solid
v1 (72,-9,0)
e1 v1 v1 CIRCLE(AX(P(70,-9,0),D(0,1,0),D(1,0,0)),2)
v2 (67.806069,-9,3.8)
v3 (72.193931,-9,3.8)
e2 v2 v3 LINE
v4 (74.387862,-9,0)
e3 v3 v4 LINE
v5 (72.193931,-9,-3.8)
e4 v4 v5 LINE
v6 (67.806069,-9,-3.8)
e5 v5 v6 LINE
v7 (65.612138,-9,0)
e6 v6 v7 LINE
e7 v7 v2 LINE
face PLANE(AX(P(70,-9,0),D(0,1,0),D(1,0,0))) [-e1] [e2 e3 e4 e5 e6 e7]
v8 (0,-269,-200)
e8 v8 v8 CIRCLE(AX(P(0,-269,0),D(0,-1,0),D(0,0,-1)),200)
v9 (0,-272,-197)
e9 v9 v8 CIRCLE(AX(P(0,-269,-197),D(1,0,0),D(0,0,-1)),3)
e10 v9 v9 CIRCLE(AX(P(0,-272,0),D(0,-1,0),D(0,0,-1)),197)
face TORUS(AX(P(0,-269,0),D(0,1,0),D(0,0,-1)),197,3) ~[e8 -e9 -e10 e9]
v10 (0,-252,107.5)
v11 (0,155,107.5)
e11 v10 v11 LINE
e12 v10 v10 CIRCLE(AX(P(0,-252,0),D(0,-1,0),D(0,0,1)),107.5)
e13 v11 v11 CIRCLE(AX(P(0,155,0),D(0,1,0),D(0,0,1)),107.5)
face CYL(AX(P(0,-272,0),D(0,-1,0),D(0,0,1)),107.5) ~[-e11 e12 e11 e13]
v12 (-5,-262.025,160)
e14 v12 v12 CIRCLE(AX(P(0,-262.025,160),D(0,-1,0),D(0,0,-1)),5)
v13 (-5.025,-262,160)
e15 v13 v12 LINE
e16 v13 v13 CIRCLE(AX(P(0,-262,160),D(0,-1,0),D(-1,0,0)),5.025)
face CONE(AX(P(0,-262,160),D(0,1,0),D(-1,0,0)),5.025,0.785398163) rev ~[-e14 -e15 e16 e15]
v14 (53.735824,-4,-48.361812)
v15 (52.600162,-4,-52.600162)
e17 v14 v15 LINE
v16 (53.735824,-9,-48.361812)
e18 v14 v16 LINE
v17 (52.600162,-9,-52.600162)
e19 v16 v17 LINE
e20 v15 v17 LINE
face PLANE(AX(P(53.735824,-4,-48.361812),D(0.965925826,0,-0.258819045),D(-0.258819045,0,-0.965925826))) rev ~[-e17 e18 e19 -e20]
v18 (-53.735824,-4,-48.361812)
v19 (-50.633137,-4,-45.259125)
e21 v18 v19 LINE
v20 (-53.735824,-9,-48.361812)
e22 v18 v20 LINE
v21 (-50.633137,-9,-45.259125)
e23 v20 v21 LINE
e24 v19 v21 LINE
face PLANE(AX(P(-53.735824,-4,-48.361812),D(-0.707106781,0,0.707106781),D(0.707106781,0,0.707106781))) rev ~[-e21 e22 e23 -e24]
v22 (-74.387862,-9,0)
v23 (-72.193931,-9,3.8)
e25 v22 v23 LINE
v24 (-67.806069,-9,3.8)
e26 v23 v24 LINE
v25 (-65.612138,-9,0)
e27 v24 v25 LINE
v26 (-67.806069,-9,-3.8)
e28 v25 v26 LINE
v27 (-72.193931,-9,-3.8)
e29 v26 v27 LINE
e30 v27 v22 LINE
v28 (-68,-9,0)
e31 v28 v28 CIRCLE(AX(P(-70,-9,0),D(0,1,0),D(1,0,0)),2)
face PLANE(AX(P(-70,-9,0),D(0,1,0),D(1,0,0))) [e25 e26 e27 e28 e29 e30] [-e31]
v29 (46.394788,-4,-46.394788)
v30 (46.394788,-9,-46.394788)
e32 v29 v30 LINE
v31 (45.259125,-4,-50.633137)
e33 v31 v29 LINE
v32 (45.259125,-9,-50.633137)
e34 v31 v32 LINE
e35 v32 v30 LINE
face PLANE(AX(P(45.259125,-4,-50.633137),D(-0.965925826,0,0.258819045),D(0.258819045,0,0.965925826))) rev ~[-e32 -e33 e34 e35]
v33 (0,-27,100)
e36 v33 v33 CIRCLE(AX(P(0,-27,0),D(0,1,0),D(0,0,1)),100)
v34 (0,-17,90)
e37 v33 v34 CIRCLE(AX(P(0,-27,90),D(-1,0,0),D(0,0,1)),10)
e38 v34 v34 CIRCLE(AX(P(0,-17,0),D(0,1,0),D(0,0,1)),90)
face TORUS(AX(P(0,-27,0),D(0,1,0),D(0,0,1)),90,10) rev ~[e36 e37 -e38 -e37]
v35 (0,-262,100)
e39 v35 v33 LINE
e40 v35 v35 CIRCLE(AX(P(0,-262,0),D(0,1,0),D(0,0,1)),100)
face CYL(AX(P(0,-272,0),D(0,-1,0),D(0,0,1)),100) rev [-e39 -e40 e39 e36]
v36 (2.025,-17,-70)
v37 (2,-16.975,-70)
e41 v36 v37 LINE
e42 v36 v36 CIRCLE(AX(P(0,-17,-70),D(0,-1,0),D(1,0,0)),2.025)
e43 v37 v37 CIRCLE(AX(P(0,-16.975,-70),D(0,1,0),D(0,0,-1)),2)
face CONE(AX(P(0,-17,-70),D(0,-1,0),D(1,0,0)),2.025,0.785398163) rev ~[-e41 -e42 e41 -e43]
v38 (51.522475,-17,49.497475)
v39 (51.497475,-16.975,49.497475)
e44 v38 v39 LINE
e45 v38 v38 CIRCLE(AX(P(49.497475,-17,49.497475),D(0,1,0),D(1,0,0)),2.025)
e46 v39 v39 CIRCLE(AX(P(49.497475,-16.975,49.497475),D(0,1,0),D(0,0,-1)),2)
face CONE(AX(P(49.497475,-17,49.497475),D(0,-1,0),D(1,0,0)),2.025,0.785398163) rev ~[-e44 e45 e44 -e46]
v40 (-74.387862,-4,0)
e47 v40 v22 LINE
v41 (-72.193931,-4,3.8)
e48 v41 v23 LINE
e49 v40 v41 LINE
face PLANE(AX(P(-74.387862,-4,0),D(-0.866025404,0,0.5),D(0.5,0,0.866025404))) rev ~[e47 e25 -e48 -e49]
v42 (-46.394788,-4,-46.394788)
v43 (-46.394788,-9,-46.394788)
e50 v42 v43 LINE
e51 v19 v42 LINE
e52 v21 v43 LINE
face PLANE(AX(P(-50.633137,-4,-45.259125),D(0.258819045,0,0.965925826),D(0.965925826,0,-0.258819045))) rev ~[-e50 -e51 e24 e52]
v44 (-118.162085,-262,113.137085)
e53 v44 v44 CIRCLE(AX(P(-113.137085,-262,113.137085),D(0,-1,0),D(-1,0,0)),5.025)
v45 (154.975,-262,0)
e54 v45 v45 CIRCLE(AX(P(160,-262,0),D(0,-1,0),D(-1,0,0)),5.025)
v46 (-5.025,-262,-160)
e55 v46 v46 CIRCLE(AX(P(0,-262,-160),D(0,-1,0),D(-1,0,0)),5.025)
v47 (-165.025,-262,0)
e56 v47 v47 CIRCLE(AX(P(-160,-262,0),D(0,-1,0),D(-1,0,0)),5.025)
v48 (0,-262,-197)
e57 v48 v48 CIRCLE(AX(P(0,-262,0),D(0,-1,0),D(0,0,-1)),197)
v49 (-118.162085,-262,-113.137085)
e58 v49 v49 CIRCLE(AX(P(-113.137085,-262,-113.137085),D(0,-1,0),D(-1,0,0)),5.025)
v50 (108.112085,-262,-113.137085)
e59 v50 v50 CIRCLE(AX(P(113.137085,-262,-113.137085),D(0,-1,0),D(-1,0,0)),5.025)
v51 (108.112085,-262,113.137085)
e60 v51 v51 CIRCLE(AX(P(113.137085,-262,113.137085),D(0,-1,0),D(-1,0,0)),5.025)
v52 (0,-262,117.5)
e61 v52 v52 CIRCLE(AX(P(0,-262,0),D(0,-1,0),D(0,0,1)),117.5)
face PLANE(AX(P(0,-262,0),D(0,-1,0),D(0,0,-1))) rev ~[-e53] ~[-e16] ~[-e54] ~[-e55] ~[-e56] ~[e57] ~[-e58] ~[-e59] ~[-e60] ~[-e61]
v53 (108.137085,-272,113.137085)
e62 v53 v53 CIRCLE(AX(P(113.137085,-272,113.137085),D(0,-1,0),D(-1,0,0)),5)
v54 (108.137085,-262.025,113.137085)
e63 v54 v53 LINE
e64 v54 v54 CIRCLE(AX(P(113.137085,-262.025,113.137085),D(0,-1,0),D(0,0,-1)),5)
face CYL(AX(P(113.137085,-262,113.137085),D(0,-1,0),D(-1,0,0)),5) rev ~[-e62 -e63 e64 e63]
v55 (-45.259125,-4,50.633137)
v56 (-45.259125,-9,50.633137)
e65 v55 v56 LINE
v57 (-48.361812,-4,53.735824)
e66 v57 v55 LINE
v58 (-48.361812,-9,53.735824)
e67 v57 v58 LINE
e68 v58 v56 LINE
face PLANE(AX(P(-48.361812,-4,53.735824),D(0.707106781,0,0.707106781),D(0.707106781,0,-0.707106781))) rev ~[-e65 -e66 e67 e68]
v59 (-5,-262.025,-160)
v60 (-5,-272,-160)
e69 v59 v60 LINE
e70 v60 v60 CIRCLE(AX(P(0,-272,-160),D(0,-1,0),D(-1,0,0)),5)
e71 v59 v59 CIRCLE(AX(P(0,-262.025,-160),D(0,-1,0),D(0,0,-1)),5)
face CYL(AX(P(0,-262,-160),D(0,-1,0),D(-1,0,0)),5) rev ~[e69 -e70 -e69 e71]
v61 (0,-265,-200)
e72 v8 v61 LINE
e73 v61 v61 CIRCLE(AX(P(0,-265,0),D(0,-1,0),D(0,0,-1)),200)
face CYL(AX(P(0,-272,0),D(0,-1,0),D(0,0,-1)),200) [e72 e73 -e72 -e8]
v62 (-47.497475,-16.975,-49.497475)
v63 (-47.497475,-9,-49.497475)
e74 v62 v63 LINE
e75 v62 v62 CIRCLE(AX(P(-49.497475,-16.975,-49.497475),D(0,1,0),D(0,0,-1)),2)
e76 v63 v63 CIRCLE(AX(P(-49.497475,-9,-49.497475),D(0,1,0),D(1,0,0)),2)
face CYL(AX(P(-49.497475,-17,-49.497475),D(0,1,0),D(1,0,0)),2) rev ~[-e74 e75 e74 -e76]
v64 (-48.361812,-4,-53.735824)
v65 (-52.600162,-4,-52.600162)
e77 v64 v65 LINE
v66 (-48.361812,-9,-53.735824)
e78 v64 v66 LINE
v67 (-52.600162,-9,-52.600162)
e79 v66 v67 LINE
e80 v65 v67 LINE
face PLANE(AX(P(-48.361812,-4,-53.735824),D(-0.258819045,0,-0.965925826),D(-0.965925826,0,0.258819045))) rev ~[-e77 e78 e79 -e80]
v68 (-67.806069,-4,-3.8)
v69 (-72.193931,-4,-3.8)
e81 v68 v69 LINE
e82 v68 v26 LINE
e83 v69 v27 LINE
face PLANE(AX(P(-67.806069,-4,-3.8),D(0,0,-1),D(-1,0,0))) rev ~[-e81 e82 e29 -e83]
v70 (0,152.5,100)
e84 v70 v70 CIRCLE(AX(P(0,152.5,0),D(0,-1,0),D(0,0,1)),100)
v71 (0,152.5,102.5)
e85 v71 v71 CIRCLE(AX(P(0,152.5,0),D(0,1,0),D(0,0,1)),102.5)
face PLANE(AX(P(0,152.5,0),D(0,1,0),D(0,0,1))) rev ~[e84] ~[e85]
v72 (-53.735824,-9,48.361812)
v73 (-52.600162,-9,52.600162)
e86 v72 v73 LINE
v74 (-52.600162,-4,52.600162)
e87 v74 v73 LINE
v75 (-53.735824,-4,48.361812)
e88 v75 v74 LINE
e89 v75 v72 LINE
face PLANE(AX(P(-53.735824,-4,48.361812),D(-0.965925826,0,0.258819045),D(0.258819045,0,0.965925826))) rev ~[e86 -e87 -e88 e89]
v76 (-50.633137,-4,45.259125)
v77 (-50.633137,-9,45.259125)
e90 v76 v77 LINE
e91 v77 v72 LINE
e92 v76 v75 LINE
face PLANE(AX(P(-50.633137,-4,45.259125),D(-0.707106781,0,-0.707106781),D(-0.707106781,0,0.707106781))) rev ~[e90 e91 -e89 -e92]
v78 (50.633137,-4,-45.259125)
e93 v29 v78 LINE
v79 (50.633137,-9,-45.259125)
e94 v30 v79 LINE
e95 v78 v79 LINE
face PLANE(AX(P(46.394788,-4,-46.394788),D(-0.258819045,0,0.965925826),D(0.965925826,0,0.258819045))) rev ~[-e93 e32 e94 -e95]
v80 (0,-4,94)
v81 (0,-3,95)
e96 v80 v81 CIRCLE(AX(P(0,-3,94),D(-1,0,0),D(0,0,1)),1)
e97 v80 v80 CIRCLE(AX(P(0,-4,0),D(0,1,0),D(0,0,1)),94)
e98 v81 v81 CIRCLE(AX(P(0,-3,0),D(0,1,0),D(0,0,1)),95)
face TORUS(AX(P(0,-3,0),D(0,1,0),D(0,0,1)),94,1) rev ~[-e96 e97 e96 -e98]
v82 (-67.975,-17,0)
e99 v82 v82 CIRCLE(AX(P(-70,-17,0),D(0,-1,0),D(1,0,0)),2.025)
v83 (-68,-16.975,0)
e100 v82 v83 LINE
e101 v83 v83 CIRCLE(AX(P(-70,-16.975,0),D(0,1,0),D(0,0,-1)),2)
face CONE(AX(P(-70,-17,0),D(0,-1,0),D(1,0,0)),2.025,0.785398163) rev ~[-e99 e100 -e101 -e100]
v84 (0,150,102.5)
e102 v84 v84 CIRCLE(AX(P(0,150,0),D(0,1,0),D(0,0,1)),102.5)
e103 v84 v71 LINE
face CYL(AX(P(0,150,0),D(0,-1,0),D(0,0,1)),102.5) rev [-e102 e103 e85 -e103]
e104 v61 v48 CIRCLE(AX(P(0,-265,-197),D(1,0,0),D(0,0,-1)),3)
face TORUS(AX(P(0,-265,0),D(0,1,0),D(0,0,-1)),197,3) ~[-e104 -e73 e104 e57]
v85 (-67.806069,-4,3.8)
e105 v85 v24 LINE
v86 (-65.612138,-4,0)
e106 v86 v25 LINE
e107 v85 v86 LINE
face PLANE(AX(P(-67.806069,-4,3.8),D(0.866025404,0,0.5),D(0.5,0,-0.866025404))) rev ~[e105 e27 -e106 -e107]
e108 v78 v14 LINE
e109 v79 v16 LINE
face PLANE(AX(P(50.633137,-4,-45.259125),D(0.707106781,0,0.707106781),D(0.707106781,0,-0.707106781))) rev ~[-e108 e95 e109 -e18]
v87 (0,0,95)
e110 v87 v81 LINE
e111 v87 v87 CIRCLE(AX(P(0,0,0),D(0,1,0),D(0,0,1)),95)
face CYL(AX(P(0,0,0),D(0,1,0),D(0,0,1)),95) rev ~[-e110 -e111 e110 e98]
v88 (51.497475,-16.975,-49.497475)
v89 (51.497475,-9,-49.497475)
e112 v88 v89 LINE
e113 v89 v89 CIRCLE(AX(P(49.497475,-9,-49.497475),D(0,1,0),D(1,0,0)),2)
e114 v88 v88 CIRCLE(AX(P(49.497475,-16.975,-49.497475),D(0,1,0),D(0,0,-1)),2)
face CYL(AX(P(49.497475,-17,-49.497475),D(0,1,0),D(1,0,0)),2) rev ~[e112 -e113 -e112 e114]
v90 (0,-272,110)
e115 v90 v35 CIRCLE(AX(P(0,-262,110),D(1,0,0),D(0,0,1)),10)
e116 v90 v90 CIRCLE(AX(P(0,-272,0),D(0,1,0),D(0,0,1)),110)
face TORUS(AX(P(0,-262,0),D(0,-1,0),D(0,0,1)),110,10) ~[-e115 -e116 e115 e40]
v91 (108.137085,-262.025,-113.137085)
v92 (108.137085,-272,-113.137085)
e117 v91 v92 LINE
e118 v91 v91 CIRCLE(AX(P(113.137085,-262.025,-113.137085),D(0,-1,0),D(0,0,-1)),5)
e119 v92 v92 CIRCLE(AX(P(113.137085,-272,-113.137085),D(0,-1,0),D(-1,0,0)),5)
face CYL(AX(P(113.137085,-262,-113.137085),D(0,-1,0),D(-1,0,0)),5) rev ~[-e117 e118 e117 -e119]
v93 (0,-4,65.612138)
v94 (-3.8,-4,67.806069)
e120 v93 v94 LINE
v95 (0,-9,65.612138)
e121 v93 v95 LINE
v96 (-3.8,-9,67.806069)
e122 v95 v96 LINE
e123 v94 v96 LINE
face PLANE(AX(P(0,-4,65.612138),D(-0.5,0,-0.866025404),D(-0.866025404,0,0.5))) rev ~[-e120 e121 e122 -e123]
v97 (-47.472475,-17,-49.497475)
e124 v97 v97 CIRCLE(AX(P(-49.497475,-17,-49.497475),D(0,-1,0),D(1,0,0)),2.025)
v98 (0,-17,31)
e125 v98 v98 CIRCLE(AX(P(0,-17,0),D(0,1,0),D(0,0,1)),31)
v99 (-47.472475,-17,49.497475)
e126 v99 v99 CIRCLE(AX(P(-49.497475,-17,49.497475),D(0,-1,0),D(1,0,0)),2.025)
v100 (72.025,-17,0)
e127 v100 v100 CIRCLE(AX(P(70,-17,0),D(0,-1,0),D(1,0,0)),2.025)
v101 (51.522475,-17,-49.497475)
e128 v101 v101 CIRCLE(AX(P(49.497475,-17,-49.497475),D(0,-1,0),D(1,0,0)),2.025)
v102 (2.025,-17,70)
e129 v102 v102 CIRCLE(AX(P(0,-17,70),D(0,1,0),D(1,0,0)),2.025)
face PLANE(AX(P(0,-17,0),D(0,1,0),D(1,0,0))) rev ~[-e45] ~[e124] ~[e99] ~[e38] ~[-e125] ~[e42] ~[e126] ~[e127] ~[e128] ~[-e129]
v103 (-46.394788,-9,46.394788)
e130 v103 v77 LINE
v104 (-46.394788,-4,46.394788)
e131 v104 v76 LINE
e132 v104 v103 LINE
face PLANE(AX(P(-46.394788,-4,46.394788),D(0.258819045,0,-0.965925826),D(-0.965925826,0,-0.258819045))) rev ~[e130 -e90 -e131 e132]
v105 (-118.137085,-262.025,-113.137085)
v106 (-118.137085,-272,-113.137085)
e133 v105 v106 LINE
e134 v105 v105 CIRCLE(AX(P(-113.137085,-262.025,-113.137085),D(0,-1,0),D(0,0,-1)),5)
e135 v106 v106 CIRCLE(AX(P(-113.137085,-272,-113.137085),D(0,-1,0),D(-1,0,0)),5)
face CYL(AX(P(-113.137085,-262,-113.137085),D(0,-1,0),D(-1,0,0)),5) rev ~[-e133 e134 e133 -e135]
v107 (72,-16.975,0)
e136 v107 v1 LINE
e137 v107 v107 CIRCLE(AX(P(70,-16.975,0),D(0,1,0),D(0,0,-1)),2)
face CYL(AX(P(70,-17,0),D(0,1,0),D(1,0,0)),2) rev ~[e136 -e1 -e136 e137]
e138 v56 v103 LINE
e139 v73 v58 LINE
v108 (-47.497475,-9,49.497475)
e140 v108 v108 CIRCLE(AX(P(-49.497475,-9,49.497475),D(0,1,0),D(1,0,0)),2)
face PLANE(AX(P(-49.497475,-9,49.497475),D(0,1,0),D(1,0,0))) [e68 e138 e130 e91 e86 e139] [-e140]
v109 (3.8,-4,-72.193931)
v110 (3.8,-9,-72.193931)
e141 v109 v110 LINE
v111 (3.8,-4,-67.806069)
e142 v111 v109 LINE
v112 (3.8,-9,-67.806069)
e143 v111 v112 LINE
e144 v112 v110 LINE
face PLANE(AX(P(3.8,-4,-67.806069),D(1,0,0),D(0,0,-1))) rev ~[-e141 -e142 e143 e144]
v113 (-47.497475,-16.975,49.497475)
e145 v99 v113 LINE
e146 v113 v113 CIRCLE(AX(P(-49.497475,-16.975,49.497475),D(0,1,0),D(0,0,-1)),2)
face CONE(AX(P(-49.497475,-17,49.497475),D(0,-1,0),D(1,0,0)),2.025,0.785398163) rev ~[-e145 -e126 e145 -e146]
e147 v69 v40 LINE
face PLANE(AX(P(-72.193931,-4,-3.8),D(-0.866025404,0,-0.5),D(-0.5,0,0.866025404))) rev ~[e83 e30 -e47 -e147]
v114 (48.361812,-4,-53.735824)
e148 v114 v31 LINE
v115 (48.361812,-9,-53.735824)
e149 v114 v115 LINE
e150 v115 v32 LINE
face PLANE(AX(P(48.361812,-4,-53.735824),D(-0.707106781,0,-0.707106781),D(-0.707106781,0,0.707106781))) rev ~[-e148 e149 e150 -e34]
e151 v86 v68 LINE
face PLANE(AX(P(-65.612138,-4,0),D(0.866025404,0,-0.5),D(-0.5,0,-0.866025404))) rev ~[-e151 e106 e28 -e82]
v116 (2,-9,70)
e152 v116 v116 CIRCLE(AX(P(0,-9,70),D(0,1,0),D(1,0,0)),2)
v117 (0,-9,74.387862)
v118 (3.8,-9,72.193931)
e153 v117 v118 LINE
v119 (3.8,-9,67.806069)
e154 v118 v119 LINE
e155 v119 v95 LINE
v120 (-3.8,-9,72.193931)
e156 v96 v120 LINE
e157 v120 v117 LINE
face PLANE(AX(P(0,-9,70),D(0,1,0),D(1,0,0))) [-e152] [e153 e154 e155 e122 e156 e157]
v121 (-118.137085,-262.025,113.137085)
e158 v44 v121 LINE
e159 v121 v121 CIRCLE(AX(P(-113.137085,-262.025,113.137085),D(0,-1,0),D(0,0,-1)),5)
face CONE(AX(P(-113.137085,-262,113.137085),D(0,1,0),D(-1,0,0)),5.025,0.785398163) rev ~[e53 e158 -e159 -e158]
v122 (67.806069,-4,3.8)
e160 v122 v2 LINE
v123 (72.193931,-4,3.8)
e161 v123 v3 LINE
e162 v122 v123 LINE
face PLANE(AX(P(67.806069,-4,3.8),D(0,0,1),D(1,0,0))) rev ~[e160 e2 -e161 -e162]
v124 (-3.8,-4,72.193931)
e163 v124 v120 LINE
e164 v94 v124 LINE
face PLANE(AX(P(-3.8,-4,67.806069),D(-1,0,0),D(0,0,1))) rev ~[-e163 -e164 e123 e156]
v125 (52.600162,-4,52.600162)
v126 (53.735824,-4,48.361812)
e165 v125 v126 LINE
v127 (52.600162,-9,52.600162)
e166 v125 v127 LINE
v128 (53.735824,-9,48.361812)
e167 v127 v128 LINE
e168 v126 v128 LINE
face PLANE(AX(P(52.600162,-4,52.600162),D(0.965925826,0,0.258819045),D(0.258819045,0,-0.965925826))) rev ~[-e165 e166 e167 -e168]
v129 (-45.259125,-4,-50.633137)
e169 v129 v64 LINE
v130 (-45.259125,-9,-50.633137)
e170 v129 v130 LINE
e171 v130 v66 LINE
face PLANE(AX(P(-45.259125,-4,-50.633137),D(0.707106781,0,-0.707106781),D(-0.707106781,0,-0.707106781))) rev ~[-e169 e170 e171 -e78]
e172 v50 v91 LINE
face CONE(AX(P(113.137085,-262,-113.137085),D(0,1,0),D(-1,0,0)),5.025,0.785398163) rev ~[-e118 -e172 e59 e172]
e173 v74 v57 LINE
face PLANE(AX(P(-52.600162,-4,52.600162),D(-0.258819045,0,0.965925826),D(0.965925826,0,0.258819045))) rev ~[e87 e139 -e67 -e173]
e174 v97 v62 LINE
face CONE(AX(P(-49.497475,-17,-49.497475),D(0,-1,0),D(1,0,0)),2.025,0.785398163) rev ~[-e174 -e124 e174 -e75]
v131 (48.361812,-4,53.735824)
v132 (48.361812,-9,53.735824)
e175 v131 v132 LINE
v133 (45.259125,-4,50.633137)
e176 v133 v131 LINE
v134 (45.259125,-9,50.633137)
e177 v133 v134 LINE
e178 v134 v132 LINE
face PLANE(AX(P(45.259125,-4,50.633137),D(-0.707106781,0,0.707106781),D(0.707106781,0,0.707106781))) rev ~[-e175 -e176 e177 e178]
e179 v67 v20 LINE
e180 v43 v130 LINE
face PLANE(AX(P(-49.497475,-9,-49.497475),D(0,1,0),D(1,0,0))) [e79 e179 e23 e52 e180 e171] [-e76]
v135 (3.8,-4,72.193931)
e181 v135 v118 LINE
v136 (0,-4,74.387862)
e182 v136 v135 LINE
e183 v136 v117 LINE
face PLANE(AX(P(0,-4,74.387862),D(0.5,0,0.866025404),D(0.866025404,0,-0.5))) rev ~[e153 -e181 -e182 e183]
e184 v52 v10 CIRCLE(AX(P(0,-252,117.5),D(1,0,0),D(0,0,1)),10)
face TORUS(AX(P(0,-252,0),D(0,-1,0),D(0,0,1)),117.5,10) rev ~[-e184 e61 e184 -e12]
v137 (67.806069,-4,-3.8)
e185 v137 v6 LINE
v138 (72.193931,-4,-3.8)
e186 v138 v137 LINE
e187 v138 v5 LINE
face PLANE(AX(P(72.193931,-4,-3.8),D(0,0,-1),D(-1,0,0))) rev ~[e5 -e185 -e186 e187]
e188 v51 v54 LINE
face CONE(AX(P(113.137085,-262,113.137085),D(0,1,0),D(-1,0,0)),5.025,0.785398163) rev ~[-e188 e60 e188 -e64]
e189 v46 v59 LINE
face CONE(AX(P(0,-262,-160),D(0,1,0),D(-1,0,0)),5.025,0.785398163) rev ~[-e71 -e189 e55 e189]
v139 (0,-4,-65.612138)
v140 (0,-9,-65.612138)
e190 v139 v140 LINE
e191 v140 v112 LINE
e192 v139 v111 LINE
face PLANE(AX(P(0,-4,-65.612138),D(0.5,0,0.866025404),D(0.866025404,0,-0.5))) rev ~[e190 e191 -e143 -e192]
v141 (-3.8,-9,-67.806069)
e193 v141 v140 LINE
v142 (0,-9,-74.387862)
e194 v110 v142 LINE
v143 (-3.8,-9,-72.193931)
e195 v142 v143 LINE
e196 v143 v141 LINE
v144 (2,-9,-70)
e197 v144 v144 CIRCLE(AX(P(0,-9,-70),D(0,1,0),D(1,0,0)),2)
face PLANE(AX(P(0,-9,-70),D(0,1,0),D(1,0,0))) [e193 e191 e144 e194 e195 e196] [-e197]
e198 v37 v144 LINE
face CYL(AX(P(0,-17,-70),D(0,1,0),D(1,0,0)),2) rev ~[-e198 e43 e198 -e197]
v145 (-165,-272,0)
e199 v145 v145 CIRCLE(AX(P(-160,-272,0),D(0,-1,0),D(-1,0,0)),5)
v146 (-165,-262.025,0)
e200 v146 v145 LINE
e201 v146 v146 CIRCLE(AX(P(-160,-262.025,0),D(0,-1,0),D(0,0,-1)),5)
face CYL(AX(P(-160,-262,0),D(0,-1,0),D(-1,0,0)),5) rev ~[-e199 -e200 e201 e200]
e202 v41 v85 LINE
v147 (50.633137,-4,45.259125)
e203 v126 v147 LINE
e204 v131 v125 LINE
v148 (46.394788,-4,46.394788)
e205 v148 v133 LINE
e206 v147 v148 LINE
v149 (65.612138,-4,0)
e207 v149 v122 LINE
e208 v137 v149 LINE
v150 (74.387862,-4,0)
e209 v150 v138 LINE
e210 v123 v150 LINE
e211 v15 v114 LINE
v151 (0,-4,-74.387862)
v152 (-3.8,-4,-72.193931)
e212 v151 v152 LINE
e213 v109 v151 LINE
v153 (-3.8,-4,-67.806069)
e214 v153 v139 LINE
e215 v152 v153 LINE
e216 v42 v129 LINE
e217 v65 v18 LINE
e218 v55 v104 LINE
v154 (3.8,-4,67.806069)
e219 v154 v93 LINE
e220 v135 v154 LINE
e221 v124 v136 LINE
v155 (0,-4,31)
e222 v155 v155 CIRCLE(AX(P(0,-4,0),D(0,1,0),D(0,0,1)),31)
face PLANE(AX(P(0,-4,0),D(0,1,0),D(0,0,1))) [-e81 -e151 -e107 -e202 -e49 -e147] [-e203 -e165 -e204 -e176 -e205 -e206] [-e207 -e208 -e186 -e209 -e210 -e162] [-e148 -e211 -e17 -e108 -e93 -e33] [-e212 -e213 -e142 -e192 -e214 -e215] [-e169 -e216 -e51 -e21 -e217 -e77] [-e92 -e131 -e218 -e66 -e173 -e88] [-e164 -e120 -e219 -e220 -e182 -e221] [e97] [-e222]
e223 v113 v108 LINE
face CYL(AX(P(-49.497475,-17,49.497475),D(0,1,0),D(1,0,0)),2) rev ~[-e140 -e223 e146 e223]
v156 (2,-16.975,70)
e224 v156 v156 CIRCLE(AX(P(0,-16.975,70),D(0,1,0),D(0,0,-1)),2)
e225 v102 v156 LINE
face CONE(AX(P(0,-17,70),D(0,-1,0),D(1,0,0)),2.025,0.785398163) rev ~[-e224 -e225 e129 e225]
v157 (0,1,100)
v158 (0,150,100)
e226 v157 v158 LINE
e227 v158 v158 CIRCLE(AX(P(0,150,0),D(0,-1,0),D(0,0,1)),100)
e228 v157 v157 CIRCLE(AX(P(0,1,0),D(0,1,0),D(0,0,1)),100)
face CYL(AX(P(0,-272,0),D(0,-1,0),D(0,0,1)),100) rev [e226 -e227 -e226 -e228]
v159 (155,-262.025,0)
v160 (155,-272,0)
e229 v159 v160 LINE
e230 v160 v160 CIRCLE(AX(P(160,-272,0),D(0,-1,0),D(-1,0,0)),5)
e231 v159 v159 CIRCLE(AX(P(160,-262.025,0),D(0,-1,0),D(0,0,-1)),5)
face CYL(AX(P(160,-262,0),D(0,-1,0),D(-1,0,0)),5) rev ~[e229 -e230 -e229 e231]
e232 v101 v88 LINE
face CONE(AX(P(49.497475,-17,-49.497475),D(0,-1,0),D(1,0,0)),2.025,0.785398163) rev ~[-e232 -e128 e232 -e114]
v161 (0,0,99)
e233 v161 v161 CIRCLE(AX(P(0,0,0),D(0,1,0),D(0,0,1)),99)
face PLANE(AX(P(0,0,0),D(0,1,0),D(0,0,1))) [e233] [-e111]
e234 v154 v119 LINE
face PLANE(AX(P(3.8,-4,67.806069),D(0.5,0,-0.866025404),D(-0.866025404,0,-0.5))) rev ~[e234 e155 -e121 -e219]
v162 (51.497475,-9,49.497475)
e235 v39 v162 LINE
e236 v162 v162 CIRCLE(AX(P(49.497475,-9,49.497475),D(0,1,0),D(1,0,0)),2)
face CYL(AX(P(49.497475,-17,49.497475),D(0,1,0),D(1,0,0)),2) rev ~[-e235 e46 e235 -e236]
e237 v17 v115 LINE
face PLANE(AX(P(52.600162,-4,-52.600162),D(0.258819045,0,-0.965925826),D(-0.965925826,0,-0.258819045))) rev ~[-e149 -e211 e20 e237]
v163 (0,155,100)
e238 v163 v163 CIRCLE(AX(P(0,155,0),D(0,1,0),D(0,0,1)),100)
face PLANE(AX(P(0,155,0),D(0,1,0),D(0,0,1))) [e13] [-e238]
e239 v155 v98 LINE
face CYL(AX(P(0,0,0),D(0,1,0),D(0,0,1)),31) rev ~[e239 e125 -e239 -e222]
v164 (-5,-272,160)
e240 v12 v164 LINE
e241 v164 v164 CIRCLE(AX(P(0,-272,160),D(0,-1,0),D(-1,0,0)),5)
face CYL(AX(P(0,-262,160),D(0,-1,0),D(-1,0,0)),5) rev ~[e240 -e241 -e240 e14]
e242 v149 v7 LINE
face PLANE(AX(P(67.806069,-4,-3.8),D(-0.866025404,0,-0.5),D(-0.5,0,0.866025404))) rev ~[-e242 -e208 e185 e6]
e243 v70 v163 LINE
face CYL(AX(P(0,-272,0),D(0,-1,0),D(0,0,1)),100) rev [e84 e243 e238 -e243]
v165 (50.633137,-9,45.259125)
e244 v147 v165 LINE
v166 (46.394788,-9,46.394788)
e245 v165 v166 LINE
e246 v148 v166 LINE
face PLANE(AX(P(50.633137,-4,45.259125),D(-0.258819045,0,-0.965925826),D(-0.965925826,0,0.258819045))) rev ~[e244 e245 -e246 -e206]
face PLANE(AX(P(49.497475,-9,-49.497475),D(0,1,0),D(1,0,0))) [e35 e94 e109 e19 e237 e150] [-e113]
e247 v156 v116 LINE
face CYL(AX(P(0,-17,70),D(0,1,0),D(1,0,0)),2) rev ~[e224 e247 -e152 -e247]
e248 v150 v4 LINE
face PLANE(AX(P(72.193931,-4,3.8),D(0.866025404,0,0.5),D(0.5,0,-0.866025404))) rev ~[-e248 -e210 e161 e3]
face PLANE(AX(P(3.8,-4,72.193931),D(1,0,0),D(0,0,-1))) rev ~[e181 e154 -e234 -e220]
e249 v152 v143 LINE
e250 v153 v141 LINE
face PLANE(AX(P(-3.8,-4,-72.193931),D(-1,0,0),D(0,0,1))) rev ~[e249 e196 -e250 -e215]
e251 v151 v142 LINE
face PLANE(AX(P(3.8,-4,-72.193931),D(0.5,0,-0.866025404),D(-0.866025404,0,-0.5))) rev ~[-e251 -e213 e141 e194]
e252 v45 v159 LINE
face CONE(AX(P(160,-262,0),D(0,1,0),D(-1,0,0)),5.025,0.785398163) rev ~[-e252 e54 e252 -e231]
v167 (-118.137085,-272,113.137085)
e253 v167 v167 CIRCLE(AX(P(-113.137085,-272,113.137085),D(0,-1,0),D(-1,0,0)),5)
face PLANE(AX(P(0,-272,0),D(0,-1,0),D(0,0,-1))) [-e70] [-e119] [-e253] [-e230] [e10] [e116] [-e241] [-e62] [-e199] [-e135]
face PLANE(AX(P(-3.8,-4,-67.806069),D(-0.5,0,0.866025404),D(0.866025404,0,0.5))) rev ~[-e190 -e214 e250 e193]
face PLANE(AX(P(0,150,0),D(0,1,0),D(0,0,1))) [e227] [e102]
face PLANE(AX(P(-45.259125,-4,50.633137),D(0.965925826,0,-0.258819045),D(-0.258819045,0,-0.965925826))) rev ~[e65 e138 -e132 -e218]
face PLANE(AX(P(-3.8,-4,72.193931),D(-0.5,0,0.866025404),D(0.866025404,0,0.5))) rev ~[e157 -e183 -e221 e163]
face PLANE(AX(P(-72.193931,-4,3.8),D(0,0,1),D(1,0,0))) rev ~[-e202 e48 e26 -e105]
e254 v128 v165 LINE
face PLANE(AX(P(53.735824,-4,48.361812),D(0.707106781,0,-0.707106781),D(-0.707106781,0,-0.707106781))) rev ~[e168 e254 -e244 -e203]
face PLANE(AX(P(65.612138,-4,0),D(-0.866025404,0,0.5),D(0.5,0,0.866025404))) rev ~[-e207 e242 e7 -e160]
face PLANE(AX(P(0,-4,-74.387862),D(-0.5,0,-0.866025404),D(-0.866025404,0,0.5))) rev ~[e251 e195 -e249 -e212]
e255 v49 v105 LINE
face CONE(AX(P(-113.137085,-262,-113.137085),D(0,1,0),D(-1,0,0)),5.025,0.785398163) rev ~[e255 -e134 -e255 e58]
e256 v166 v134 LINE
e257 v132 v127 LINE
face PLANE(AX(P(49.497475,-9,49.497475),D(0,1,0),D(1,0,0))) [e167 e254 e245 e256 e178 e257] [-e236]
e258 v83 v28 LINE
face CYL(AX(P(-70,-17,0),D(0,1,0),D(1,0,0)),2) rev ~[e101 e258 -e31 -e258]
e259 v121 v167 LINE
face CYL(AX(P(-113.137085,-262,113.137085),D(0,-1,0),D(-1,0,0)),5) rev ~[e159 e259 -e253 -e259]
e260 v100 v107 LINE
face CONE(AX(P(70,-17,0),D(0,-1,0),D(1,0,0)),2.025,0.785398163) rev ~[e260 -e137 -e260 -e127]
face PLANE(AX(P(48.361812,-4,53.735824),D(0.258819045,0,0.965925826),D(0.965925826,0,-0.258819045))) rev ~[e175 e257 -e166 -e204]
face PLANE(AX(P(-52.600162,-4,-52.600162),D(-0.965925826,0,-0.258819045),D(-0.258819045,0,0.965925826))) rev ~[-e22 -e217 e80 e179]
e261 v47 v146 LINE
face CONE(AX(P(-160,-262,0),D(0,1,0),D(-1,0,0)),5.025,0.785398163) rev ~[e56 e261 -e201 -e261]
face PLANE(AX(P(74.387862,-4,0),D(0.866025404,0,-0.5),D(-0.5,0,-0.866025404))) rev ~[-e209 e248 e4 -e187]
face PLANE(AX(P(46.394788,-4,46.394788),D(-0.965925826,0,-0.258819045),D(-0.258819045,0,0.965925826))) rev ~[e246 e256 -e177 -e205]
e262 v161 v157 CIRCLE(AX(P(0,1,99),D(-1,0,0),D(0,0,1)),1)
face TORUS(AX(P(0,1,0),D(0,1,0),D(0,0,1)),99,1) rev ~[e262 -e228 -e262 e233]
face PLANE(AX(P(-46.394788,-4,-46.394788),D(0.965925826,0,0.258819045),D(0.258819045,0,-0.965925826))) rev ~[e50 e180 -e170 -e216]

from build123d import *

# Parameters (mm, degrees)
BOSS_EXTRUDE1_DEPTH              = 155
BOSS_EXTRUDE1_DEPTH_BACK         = 272
SKETCH1_R                        = 107.5
SKETCH1_R_2                      = 100
SKETCH1_3_R                      = 100
SKETCH1_3_R_2                    = 95
SKETCH1_3_R_3                    = 31
BOSS_EXTRUDE2_DEPTH              = 17
SKETCH1_5_R                      = 95
SKETCH1_5_R_2                    = 31
CUT_EXTRUDE1_DEPTH               = 4
F_4_0MM_DOWEL_HOLE1_D            = 4
F_4_0MM_DOWEL_HOLE1_CSINK_D      = 4.05
F_4_0MM_DOWEL_HOLE1_CSINK_ANGLE  = 90
CUT_EXTRUDE2_DEPTH               = 5
SKETCH8_R                        = 200
SKETCH8_R_2                      = 100
BOSS_EXTRUDE3_DEPTH              = 10
F_10_0MM_DOWEL_HOLE1_D           = 10
F_10_0MM_DOWEL_HOLE1_CSINK_D     = 10.05
F_10_0MM_DOWEL_HOLE1_CSINK_ANGLE = 90
SKETCH12_R                       = 102.5
CUT_EXTRUDE3_DEPTH               = 2.5
FILLET1_R                        = 10
FILLET2_R                        = 3
FILLET3_R                        = 1


with BuildPart() as part:
    # Sketch1 → Boss-Extrude1 (new, two sides: drawn at the far end of the back side and taken through both)
    with BuildSketch(Plane(origin=(0, 0, 0), x_dir=(1, 0, 0), z_dir=(0, 1, 0)).offset(-BOSS_EXTRUDE1_DEPTH_BACK)):
        with Locations(Location((0, 0, 0), (0, 0, 270))):
            Circle(SKETCH1_R)
        with Locations(Location((0, 0, 0), (0, 0, 270))):
            Circle(SKETCH1_R_2, mode=Mode.SUBTRACT)
    extrude(amount=BOSS_EXTRUDE1_DEPTH + BOSS_EXTRUDE1_DEPTH_BACK)

    # Sketch1<3> → Boss-Extrude2 (add)
    # profile 1 of 2: a face of its own
    with BuildSketch(Plane(origin=(0, 0, 0), x_dir=(1, 0, 0), z_dir=(0, 1, 0))):
        with Locations(Location((0, 0, 0), (0, 0, 270))):
            Circle(SKETCH1_3_R)
        Circle(SKETCH1_3_R_2, mode=Mode.SUBTRACT)
    # profile 2 of 2: a face of its own
    with BuildSketch(Plane(origin=(0, 0, 0), x_dir=(1, 0, 0), z_dir=(0, 1, 0))):
        Circle(SKETCH1_3_R_2)
        with Locations(Location((0, 0, 0), (0, 0, 270))):
            Circle(SKETCH1_3_R_3, mode=Mode.SUBTRACT)
    extrude(amount=-BOSS_EXTRUDE2_DEPTH)

    # Sketch1<5> → Cut-Extrude1 (cut)
    with BuildSketch(Plane(origin=(0, 0, 0), x_dir=(1, 0, 0), z_dir=(0, 1, 0))):
        with Locations(Location((0, 0, 0), (0, 0, 270))):
            Circle(SKETCH1_5_R)
        with Locations(Location((0, 0, 0), (0, 0, 270))):
            Circle(SKETCH1_5_R_2, mode=Mode.SUBTRACT)
    extrude(amount=-CUT_EXTRUDE1_DEPTH, mode=Mode.SUBTRACT)

    # Ø4.0mm Dowel Hole1 (through all)
    with Locations(Plane(origin=(0, -17, 0), x_dir=(-1, 0, 0), z_dir=(0, -1, 0))):
        with Locations((0, 70), (49.497474683, 49.497474683), (-49.497474683, 49.497474683), (-70, 0), (-49.497474683, -49.497474683), (0, -70), (49.497474683, -49.497474683), (70, 0)):
            CounterSinkHole(F_4_0MM_DOWEL_HOLE1_D / 2, F_4_0MM_DOWEL_HOLE1_CSINK_D / 2, counter_sink_angle=F_4_0MM_DOWEL_HOLE1_CSINK_ANGLE)

    # Sketch5 → Cut-Extrude2 (cut)
    with BuildSketch(Plane(origin=(0, -4, 0), x_dir=(1, 0, 0), z_dir=(0, 1, 0))):
        Polygon((46.394787676, 46.394787676), (50.633136948, 45.259125411), (53.735823955, 48.361812418), (52.600161691, 52.600161691), (48.361812418, 53.735823955), (45.259125411, 50.633136948), align=None)
        Polygon((0, 65.612137954), (3.8, 67.806068977), (3.8, 72.193931023), (0, 74.387862046), (-3.8, 72.193931023), (-3.8, 67.806068977), align=None)
        Polygon((65.612137954, 0), (67.806068977, -3.8), (72.193931023, -3.8), (74.387862046, 0), (72.193931023, 3.8), (67.806068977, 3.8), align=None)
        Polygon((46.394787676, -46.394787676), (45.259125411, -50.633136948), (48.361812418, -53.735823955), (52.600161691, -52.600161691), (53.735823955, -48.361812418), (50.633136948, -45.259125411), align=None)
        Polygon((0, -65.612137954), (-3.8, -67.806068977), (-3.8, -72.193931023), (0, -74.387862046), (3.8, -72.193931023), (3.8, -67.806068977), align=None)
        Polygon((-46.394787676, -46.394787676), (-50.633136948, -45.259125411), (-53.735823955, -48.361812418), (-52.600161691, -52.600161691), (-48.361812418, -53.735823955), (-45.259125411, -50.633136948), align=None)
        Polygon((-65.612137954, 0), (-67.806068977, 3.8), (-72.193931023, 3.8), (-74.387862046, 0), (-72.193931023, -3.8), (-67.806068977, -3.8), align=None)
        Polygon((-46.394787676, 46.394787676), (-45.259125411, 50.633136948), (-48.361812418, 53.735823955), (-52.600161691, 52.600161691), (-53.735823955, 48.361812418), (-50.633136948, 45.259125411), align=None)
    extrude(amount=-CUT_EXTRUDE2_DEPTH, mode=Mode.SUBTRACT)

    # Sketch8 → Boss-Extrude3 (add)
    with BuildSketch(Plane(origin=(0, -272, 0), x_dir=(-1, 0, 0), z_dir=(0, -1, 0))):
        with Locations(Location((0, 0, 0), (0, 0, 90))):
            Circle(SKETCH8_R)
        with Locations(Location((0, 0, 0), (0, 0, 270))):
            Circle(SKETCH8_R_2, mode=Mode.SUBTRACT)
    extrude(amount=-BOSS_EXTRUDE3_DEPTH)

    # Ø10.0mm Dowel Hole1 (through all)
    with Locations(Plane(origin=(0, -262, 0), x_dir=(1, 0, 0), z_dir=(0, 1, 0))):
        with Locations((160, 0), (113.13708499, 113.13708499), (0, 160), (-113.13708499, 113.13708499), (-160, 0), (-113.13708499, -113.13708499), (113.13708499, -113.13708499), (0, -160)):
            CounterSinkHole(F_10_0MM_DOWEL_HOLE1_D / 2, F_10_0MM_DOWEL_HOLE1_CSINK_D / 2, counter_sink_angle=F_10_0MM_DOWEL_HOLE1_CSINK_ANGLE)

    # Sketch12 → Cut-Extrude3 (cut)
    with BuildSketch(Plane(origin=(0, 150, 0), x_dir=(1, 0, 0), z_dir=(0, 1, 0))):
        with Locations(Location((0, 0, 0), (0, 0, 270))):
            Circle(SKETCH12_R)
    extrude(amount=CUT_EXTRUDE3_DEPTH, mode=Mode.SUBTRACT)

    # Fillet1
    fillet1_edges = [part.edges().sort_by_distance(p)[0] for p in [
        (0, -17, -100),
        (0, -262, -107.5),
        (0, -272, -100),
    ]]
    fillet(fillet1_edges, radius=FILLET1_R)

    # Fillet2
    fillet2_edges = [part.edges().sort_by_distance(p)[0] for p in [
        (0, -262, 200),
        (0, -272, 200),
    ]]
    fillet(fillet2_edges, radius=FILLET2_R)

    # Fillet3
    fillet3_edges = [part.edges().sort_by_distance(p)[0] for p in [
        (0, 0, -100),
        (0, -4, -95),
    ]]
    fillet(fillet3_edges, radius=FILLET3_R)


solid = part.part
